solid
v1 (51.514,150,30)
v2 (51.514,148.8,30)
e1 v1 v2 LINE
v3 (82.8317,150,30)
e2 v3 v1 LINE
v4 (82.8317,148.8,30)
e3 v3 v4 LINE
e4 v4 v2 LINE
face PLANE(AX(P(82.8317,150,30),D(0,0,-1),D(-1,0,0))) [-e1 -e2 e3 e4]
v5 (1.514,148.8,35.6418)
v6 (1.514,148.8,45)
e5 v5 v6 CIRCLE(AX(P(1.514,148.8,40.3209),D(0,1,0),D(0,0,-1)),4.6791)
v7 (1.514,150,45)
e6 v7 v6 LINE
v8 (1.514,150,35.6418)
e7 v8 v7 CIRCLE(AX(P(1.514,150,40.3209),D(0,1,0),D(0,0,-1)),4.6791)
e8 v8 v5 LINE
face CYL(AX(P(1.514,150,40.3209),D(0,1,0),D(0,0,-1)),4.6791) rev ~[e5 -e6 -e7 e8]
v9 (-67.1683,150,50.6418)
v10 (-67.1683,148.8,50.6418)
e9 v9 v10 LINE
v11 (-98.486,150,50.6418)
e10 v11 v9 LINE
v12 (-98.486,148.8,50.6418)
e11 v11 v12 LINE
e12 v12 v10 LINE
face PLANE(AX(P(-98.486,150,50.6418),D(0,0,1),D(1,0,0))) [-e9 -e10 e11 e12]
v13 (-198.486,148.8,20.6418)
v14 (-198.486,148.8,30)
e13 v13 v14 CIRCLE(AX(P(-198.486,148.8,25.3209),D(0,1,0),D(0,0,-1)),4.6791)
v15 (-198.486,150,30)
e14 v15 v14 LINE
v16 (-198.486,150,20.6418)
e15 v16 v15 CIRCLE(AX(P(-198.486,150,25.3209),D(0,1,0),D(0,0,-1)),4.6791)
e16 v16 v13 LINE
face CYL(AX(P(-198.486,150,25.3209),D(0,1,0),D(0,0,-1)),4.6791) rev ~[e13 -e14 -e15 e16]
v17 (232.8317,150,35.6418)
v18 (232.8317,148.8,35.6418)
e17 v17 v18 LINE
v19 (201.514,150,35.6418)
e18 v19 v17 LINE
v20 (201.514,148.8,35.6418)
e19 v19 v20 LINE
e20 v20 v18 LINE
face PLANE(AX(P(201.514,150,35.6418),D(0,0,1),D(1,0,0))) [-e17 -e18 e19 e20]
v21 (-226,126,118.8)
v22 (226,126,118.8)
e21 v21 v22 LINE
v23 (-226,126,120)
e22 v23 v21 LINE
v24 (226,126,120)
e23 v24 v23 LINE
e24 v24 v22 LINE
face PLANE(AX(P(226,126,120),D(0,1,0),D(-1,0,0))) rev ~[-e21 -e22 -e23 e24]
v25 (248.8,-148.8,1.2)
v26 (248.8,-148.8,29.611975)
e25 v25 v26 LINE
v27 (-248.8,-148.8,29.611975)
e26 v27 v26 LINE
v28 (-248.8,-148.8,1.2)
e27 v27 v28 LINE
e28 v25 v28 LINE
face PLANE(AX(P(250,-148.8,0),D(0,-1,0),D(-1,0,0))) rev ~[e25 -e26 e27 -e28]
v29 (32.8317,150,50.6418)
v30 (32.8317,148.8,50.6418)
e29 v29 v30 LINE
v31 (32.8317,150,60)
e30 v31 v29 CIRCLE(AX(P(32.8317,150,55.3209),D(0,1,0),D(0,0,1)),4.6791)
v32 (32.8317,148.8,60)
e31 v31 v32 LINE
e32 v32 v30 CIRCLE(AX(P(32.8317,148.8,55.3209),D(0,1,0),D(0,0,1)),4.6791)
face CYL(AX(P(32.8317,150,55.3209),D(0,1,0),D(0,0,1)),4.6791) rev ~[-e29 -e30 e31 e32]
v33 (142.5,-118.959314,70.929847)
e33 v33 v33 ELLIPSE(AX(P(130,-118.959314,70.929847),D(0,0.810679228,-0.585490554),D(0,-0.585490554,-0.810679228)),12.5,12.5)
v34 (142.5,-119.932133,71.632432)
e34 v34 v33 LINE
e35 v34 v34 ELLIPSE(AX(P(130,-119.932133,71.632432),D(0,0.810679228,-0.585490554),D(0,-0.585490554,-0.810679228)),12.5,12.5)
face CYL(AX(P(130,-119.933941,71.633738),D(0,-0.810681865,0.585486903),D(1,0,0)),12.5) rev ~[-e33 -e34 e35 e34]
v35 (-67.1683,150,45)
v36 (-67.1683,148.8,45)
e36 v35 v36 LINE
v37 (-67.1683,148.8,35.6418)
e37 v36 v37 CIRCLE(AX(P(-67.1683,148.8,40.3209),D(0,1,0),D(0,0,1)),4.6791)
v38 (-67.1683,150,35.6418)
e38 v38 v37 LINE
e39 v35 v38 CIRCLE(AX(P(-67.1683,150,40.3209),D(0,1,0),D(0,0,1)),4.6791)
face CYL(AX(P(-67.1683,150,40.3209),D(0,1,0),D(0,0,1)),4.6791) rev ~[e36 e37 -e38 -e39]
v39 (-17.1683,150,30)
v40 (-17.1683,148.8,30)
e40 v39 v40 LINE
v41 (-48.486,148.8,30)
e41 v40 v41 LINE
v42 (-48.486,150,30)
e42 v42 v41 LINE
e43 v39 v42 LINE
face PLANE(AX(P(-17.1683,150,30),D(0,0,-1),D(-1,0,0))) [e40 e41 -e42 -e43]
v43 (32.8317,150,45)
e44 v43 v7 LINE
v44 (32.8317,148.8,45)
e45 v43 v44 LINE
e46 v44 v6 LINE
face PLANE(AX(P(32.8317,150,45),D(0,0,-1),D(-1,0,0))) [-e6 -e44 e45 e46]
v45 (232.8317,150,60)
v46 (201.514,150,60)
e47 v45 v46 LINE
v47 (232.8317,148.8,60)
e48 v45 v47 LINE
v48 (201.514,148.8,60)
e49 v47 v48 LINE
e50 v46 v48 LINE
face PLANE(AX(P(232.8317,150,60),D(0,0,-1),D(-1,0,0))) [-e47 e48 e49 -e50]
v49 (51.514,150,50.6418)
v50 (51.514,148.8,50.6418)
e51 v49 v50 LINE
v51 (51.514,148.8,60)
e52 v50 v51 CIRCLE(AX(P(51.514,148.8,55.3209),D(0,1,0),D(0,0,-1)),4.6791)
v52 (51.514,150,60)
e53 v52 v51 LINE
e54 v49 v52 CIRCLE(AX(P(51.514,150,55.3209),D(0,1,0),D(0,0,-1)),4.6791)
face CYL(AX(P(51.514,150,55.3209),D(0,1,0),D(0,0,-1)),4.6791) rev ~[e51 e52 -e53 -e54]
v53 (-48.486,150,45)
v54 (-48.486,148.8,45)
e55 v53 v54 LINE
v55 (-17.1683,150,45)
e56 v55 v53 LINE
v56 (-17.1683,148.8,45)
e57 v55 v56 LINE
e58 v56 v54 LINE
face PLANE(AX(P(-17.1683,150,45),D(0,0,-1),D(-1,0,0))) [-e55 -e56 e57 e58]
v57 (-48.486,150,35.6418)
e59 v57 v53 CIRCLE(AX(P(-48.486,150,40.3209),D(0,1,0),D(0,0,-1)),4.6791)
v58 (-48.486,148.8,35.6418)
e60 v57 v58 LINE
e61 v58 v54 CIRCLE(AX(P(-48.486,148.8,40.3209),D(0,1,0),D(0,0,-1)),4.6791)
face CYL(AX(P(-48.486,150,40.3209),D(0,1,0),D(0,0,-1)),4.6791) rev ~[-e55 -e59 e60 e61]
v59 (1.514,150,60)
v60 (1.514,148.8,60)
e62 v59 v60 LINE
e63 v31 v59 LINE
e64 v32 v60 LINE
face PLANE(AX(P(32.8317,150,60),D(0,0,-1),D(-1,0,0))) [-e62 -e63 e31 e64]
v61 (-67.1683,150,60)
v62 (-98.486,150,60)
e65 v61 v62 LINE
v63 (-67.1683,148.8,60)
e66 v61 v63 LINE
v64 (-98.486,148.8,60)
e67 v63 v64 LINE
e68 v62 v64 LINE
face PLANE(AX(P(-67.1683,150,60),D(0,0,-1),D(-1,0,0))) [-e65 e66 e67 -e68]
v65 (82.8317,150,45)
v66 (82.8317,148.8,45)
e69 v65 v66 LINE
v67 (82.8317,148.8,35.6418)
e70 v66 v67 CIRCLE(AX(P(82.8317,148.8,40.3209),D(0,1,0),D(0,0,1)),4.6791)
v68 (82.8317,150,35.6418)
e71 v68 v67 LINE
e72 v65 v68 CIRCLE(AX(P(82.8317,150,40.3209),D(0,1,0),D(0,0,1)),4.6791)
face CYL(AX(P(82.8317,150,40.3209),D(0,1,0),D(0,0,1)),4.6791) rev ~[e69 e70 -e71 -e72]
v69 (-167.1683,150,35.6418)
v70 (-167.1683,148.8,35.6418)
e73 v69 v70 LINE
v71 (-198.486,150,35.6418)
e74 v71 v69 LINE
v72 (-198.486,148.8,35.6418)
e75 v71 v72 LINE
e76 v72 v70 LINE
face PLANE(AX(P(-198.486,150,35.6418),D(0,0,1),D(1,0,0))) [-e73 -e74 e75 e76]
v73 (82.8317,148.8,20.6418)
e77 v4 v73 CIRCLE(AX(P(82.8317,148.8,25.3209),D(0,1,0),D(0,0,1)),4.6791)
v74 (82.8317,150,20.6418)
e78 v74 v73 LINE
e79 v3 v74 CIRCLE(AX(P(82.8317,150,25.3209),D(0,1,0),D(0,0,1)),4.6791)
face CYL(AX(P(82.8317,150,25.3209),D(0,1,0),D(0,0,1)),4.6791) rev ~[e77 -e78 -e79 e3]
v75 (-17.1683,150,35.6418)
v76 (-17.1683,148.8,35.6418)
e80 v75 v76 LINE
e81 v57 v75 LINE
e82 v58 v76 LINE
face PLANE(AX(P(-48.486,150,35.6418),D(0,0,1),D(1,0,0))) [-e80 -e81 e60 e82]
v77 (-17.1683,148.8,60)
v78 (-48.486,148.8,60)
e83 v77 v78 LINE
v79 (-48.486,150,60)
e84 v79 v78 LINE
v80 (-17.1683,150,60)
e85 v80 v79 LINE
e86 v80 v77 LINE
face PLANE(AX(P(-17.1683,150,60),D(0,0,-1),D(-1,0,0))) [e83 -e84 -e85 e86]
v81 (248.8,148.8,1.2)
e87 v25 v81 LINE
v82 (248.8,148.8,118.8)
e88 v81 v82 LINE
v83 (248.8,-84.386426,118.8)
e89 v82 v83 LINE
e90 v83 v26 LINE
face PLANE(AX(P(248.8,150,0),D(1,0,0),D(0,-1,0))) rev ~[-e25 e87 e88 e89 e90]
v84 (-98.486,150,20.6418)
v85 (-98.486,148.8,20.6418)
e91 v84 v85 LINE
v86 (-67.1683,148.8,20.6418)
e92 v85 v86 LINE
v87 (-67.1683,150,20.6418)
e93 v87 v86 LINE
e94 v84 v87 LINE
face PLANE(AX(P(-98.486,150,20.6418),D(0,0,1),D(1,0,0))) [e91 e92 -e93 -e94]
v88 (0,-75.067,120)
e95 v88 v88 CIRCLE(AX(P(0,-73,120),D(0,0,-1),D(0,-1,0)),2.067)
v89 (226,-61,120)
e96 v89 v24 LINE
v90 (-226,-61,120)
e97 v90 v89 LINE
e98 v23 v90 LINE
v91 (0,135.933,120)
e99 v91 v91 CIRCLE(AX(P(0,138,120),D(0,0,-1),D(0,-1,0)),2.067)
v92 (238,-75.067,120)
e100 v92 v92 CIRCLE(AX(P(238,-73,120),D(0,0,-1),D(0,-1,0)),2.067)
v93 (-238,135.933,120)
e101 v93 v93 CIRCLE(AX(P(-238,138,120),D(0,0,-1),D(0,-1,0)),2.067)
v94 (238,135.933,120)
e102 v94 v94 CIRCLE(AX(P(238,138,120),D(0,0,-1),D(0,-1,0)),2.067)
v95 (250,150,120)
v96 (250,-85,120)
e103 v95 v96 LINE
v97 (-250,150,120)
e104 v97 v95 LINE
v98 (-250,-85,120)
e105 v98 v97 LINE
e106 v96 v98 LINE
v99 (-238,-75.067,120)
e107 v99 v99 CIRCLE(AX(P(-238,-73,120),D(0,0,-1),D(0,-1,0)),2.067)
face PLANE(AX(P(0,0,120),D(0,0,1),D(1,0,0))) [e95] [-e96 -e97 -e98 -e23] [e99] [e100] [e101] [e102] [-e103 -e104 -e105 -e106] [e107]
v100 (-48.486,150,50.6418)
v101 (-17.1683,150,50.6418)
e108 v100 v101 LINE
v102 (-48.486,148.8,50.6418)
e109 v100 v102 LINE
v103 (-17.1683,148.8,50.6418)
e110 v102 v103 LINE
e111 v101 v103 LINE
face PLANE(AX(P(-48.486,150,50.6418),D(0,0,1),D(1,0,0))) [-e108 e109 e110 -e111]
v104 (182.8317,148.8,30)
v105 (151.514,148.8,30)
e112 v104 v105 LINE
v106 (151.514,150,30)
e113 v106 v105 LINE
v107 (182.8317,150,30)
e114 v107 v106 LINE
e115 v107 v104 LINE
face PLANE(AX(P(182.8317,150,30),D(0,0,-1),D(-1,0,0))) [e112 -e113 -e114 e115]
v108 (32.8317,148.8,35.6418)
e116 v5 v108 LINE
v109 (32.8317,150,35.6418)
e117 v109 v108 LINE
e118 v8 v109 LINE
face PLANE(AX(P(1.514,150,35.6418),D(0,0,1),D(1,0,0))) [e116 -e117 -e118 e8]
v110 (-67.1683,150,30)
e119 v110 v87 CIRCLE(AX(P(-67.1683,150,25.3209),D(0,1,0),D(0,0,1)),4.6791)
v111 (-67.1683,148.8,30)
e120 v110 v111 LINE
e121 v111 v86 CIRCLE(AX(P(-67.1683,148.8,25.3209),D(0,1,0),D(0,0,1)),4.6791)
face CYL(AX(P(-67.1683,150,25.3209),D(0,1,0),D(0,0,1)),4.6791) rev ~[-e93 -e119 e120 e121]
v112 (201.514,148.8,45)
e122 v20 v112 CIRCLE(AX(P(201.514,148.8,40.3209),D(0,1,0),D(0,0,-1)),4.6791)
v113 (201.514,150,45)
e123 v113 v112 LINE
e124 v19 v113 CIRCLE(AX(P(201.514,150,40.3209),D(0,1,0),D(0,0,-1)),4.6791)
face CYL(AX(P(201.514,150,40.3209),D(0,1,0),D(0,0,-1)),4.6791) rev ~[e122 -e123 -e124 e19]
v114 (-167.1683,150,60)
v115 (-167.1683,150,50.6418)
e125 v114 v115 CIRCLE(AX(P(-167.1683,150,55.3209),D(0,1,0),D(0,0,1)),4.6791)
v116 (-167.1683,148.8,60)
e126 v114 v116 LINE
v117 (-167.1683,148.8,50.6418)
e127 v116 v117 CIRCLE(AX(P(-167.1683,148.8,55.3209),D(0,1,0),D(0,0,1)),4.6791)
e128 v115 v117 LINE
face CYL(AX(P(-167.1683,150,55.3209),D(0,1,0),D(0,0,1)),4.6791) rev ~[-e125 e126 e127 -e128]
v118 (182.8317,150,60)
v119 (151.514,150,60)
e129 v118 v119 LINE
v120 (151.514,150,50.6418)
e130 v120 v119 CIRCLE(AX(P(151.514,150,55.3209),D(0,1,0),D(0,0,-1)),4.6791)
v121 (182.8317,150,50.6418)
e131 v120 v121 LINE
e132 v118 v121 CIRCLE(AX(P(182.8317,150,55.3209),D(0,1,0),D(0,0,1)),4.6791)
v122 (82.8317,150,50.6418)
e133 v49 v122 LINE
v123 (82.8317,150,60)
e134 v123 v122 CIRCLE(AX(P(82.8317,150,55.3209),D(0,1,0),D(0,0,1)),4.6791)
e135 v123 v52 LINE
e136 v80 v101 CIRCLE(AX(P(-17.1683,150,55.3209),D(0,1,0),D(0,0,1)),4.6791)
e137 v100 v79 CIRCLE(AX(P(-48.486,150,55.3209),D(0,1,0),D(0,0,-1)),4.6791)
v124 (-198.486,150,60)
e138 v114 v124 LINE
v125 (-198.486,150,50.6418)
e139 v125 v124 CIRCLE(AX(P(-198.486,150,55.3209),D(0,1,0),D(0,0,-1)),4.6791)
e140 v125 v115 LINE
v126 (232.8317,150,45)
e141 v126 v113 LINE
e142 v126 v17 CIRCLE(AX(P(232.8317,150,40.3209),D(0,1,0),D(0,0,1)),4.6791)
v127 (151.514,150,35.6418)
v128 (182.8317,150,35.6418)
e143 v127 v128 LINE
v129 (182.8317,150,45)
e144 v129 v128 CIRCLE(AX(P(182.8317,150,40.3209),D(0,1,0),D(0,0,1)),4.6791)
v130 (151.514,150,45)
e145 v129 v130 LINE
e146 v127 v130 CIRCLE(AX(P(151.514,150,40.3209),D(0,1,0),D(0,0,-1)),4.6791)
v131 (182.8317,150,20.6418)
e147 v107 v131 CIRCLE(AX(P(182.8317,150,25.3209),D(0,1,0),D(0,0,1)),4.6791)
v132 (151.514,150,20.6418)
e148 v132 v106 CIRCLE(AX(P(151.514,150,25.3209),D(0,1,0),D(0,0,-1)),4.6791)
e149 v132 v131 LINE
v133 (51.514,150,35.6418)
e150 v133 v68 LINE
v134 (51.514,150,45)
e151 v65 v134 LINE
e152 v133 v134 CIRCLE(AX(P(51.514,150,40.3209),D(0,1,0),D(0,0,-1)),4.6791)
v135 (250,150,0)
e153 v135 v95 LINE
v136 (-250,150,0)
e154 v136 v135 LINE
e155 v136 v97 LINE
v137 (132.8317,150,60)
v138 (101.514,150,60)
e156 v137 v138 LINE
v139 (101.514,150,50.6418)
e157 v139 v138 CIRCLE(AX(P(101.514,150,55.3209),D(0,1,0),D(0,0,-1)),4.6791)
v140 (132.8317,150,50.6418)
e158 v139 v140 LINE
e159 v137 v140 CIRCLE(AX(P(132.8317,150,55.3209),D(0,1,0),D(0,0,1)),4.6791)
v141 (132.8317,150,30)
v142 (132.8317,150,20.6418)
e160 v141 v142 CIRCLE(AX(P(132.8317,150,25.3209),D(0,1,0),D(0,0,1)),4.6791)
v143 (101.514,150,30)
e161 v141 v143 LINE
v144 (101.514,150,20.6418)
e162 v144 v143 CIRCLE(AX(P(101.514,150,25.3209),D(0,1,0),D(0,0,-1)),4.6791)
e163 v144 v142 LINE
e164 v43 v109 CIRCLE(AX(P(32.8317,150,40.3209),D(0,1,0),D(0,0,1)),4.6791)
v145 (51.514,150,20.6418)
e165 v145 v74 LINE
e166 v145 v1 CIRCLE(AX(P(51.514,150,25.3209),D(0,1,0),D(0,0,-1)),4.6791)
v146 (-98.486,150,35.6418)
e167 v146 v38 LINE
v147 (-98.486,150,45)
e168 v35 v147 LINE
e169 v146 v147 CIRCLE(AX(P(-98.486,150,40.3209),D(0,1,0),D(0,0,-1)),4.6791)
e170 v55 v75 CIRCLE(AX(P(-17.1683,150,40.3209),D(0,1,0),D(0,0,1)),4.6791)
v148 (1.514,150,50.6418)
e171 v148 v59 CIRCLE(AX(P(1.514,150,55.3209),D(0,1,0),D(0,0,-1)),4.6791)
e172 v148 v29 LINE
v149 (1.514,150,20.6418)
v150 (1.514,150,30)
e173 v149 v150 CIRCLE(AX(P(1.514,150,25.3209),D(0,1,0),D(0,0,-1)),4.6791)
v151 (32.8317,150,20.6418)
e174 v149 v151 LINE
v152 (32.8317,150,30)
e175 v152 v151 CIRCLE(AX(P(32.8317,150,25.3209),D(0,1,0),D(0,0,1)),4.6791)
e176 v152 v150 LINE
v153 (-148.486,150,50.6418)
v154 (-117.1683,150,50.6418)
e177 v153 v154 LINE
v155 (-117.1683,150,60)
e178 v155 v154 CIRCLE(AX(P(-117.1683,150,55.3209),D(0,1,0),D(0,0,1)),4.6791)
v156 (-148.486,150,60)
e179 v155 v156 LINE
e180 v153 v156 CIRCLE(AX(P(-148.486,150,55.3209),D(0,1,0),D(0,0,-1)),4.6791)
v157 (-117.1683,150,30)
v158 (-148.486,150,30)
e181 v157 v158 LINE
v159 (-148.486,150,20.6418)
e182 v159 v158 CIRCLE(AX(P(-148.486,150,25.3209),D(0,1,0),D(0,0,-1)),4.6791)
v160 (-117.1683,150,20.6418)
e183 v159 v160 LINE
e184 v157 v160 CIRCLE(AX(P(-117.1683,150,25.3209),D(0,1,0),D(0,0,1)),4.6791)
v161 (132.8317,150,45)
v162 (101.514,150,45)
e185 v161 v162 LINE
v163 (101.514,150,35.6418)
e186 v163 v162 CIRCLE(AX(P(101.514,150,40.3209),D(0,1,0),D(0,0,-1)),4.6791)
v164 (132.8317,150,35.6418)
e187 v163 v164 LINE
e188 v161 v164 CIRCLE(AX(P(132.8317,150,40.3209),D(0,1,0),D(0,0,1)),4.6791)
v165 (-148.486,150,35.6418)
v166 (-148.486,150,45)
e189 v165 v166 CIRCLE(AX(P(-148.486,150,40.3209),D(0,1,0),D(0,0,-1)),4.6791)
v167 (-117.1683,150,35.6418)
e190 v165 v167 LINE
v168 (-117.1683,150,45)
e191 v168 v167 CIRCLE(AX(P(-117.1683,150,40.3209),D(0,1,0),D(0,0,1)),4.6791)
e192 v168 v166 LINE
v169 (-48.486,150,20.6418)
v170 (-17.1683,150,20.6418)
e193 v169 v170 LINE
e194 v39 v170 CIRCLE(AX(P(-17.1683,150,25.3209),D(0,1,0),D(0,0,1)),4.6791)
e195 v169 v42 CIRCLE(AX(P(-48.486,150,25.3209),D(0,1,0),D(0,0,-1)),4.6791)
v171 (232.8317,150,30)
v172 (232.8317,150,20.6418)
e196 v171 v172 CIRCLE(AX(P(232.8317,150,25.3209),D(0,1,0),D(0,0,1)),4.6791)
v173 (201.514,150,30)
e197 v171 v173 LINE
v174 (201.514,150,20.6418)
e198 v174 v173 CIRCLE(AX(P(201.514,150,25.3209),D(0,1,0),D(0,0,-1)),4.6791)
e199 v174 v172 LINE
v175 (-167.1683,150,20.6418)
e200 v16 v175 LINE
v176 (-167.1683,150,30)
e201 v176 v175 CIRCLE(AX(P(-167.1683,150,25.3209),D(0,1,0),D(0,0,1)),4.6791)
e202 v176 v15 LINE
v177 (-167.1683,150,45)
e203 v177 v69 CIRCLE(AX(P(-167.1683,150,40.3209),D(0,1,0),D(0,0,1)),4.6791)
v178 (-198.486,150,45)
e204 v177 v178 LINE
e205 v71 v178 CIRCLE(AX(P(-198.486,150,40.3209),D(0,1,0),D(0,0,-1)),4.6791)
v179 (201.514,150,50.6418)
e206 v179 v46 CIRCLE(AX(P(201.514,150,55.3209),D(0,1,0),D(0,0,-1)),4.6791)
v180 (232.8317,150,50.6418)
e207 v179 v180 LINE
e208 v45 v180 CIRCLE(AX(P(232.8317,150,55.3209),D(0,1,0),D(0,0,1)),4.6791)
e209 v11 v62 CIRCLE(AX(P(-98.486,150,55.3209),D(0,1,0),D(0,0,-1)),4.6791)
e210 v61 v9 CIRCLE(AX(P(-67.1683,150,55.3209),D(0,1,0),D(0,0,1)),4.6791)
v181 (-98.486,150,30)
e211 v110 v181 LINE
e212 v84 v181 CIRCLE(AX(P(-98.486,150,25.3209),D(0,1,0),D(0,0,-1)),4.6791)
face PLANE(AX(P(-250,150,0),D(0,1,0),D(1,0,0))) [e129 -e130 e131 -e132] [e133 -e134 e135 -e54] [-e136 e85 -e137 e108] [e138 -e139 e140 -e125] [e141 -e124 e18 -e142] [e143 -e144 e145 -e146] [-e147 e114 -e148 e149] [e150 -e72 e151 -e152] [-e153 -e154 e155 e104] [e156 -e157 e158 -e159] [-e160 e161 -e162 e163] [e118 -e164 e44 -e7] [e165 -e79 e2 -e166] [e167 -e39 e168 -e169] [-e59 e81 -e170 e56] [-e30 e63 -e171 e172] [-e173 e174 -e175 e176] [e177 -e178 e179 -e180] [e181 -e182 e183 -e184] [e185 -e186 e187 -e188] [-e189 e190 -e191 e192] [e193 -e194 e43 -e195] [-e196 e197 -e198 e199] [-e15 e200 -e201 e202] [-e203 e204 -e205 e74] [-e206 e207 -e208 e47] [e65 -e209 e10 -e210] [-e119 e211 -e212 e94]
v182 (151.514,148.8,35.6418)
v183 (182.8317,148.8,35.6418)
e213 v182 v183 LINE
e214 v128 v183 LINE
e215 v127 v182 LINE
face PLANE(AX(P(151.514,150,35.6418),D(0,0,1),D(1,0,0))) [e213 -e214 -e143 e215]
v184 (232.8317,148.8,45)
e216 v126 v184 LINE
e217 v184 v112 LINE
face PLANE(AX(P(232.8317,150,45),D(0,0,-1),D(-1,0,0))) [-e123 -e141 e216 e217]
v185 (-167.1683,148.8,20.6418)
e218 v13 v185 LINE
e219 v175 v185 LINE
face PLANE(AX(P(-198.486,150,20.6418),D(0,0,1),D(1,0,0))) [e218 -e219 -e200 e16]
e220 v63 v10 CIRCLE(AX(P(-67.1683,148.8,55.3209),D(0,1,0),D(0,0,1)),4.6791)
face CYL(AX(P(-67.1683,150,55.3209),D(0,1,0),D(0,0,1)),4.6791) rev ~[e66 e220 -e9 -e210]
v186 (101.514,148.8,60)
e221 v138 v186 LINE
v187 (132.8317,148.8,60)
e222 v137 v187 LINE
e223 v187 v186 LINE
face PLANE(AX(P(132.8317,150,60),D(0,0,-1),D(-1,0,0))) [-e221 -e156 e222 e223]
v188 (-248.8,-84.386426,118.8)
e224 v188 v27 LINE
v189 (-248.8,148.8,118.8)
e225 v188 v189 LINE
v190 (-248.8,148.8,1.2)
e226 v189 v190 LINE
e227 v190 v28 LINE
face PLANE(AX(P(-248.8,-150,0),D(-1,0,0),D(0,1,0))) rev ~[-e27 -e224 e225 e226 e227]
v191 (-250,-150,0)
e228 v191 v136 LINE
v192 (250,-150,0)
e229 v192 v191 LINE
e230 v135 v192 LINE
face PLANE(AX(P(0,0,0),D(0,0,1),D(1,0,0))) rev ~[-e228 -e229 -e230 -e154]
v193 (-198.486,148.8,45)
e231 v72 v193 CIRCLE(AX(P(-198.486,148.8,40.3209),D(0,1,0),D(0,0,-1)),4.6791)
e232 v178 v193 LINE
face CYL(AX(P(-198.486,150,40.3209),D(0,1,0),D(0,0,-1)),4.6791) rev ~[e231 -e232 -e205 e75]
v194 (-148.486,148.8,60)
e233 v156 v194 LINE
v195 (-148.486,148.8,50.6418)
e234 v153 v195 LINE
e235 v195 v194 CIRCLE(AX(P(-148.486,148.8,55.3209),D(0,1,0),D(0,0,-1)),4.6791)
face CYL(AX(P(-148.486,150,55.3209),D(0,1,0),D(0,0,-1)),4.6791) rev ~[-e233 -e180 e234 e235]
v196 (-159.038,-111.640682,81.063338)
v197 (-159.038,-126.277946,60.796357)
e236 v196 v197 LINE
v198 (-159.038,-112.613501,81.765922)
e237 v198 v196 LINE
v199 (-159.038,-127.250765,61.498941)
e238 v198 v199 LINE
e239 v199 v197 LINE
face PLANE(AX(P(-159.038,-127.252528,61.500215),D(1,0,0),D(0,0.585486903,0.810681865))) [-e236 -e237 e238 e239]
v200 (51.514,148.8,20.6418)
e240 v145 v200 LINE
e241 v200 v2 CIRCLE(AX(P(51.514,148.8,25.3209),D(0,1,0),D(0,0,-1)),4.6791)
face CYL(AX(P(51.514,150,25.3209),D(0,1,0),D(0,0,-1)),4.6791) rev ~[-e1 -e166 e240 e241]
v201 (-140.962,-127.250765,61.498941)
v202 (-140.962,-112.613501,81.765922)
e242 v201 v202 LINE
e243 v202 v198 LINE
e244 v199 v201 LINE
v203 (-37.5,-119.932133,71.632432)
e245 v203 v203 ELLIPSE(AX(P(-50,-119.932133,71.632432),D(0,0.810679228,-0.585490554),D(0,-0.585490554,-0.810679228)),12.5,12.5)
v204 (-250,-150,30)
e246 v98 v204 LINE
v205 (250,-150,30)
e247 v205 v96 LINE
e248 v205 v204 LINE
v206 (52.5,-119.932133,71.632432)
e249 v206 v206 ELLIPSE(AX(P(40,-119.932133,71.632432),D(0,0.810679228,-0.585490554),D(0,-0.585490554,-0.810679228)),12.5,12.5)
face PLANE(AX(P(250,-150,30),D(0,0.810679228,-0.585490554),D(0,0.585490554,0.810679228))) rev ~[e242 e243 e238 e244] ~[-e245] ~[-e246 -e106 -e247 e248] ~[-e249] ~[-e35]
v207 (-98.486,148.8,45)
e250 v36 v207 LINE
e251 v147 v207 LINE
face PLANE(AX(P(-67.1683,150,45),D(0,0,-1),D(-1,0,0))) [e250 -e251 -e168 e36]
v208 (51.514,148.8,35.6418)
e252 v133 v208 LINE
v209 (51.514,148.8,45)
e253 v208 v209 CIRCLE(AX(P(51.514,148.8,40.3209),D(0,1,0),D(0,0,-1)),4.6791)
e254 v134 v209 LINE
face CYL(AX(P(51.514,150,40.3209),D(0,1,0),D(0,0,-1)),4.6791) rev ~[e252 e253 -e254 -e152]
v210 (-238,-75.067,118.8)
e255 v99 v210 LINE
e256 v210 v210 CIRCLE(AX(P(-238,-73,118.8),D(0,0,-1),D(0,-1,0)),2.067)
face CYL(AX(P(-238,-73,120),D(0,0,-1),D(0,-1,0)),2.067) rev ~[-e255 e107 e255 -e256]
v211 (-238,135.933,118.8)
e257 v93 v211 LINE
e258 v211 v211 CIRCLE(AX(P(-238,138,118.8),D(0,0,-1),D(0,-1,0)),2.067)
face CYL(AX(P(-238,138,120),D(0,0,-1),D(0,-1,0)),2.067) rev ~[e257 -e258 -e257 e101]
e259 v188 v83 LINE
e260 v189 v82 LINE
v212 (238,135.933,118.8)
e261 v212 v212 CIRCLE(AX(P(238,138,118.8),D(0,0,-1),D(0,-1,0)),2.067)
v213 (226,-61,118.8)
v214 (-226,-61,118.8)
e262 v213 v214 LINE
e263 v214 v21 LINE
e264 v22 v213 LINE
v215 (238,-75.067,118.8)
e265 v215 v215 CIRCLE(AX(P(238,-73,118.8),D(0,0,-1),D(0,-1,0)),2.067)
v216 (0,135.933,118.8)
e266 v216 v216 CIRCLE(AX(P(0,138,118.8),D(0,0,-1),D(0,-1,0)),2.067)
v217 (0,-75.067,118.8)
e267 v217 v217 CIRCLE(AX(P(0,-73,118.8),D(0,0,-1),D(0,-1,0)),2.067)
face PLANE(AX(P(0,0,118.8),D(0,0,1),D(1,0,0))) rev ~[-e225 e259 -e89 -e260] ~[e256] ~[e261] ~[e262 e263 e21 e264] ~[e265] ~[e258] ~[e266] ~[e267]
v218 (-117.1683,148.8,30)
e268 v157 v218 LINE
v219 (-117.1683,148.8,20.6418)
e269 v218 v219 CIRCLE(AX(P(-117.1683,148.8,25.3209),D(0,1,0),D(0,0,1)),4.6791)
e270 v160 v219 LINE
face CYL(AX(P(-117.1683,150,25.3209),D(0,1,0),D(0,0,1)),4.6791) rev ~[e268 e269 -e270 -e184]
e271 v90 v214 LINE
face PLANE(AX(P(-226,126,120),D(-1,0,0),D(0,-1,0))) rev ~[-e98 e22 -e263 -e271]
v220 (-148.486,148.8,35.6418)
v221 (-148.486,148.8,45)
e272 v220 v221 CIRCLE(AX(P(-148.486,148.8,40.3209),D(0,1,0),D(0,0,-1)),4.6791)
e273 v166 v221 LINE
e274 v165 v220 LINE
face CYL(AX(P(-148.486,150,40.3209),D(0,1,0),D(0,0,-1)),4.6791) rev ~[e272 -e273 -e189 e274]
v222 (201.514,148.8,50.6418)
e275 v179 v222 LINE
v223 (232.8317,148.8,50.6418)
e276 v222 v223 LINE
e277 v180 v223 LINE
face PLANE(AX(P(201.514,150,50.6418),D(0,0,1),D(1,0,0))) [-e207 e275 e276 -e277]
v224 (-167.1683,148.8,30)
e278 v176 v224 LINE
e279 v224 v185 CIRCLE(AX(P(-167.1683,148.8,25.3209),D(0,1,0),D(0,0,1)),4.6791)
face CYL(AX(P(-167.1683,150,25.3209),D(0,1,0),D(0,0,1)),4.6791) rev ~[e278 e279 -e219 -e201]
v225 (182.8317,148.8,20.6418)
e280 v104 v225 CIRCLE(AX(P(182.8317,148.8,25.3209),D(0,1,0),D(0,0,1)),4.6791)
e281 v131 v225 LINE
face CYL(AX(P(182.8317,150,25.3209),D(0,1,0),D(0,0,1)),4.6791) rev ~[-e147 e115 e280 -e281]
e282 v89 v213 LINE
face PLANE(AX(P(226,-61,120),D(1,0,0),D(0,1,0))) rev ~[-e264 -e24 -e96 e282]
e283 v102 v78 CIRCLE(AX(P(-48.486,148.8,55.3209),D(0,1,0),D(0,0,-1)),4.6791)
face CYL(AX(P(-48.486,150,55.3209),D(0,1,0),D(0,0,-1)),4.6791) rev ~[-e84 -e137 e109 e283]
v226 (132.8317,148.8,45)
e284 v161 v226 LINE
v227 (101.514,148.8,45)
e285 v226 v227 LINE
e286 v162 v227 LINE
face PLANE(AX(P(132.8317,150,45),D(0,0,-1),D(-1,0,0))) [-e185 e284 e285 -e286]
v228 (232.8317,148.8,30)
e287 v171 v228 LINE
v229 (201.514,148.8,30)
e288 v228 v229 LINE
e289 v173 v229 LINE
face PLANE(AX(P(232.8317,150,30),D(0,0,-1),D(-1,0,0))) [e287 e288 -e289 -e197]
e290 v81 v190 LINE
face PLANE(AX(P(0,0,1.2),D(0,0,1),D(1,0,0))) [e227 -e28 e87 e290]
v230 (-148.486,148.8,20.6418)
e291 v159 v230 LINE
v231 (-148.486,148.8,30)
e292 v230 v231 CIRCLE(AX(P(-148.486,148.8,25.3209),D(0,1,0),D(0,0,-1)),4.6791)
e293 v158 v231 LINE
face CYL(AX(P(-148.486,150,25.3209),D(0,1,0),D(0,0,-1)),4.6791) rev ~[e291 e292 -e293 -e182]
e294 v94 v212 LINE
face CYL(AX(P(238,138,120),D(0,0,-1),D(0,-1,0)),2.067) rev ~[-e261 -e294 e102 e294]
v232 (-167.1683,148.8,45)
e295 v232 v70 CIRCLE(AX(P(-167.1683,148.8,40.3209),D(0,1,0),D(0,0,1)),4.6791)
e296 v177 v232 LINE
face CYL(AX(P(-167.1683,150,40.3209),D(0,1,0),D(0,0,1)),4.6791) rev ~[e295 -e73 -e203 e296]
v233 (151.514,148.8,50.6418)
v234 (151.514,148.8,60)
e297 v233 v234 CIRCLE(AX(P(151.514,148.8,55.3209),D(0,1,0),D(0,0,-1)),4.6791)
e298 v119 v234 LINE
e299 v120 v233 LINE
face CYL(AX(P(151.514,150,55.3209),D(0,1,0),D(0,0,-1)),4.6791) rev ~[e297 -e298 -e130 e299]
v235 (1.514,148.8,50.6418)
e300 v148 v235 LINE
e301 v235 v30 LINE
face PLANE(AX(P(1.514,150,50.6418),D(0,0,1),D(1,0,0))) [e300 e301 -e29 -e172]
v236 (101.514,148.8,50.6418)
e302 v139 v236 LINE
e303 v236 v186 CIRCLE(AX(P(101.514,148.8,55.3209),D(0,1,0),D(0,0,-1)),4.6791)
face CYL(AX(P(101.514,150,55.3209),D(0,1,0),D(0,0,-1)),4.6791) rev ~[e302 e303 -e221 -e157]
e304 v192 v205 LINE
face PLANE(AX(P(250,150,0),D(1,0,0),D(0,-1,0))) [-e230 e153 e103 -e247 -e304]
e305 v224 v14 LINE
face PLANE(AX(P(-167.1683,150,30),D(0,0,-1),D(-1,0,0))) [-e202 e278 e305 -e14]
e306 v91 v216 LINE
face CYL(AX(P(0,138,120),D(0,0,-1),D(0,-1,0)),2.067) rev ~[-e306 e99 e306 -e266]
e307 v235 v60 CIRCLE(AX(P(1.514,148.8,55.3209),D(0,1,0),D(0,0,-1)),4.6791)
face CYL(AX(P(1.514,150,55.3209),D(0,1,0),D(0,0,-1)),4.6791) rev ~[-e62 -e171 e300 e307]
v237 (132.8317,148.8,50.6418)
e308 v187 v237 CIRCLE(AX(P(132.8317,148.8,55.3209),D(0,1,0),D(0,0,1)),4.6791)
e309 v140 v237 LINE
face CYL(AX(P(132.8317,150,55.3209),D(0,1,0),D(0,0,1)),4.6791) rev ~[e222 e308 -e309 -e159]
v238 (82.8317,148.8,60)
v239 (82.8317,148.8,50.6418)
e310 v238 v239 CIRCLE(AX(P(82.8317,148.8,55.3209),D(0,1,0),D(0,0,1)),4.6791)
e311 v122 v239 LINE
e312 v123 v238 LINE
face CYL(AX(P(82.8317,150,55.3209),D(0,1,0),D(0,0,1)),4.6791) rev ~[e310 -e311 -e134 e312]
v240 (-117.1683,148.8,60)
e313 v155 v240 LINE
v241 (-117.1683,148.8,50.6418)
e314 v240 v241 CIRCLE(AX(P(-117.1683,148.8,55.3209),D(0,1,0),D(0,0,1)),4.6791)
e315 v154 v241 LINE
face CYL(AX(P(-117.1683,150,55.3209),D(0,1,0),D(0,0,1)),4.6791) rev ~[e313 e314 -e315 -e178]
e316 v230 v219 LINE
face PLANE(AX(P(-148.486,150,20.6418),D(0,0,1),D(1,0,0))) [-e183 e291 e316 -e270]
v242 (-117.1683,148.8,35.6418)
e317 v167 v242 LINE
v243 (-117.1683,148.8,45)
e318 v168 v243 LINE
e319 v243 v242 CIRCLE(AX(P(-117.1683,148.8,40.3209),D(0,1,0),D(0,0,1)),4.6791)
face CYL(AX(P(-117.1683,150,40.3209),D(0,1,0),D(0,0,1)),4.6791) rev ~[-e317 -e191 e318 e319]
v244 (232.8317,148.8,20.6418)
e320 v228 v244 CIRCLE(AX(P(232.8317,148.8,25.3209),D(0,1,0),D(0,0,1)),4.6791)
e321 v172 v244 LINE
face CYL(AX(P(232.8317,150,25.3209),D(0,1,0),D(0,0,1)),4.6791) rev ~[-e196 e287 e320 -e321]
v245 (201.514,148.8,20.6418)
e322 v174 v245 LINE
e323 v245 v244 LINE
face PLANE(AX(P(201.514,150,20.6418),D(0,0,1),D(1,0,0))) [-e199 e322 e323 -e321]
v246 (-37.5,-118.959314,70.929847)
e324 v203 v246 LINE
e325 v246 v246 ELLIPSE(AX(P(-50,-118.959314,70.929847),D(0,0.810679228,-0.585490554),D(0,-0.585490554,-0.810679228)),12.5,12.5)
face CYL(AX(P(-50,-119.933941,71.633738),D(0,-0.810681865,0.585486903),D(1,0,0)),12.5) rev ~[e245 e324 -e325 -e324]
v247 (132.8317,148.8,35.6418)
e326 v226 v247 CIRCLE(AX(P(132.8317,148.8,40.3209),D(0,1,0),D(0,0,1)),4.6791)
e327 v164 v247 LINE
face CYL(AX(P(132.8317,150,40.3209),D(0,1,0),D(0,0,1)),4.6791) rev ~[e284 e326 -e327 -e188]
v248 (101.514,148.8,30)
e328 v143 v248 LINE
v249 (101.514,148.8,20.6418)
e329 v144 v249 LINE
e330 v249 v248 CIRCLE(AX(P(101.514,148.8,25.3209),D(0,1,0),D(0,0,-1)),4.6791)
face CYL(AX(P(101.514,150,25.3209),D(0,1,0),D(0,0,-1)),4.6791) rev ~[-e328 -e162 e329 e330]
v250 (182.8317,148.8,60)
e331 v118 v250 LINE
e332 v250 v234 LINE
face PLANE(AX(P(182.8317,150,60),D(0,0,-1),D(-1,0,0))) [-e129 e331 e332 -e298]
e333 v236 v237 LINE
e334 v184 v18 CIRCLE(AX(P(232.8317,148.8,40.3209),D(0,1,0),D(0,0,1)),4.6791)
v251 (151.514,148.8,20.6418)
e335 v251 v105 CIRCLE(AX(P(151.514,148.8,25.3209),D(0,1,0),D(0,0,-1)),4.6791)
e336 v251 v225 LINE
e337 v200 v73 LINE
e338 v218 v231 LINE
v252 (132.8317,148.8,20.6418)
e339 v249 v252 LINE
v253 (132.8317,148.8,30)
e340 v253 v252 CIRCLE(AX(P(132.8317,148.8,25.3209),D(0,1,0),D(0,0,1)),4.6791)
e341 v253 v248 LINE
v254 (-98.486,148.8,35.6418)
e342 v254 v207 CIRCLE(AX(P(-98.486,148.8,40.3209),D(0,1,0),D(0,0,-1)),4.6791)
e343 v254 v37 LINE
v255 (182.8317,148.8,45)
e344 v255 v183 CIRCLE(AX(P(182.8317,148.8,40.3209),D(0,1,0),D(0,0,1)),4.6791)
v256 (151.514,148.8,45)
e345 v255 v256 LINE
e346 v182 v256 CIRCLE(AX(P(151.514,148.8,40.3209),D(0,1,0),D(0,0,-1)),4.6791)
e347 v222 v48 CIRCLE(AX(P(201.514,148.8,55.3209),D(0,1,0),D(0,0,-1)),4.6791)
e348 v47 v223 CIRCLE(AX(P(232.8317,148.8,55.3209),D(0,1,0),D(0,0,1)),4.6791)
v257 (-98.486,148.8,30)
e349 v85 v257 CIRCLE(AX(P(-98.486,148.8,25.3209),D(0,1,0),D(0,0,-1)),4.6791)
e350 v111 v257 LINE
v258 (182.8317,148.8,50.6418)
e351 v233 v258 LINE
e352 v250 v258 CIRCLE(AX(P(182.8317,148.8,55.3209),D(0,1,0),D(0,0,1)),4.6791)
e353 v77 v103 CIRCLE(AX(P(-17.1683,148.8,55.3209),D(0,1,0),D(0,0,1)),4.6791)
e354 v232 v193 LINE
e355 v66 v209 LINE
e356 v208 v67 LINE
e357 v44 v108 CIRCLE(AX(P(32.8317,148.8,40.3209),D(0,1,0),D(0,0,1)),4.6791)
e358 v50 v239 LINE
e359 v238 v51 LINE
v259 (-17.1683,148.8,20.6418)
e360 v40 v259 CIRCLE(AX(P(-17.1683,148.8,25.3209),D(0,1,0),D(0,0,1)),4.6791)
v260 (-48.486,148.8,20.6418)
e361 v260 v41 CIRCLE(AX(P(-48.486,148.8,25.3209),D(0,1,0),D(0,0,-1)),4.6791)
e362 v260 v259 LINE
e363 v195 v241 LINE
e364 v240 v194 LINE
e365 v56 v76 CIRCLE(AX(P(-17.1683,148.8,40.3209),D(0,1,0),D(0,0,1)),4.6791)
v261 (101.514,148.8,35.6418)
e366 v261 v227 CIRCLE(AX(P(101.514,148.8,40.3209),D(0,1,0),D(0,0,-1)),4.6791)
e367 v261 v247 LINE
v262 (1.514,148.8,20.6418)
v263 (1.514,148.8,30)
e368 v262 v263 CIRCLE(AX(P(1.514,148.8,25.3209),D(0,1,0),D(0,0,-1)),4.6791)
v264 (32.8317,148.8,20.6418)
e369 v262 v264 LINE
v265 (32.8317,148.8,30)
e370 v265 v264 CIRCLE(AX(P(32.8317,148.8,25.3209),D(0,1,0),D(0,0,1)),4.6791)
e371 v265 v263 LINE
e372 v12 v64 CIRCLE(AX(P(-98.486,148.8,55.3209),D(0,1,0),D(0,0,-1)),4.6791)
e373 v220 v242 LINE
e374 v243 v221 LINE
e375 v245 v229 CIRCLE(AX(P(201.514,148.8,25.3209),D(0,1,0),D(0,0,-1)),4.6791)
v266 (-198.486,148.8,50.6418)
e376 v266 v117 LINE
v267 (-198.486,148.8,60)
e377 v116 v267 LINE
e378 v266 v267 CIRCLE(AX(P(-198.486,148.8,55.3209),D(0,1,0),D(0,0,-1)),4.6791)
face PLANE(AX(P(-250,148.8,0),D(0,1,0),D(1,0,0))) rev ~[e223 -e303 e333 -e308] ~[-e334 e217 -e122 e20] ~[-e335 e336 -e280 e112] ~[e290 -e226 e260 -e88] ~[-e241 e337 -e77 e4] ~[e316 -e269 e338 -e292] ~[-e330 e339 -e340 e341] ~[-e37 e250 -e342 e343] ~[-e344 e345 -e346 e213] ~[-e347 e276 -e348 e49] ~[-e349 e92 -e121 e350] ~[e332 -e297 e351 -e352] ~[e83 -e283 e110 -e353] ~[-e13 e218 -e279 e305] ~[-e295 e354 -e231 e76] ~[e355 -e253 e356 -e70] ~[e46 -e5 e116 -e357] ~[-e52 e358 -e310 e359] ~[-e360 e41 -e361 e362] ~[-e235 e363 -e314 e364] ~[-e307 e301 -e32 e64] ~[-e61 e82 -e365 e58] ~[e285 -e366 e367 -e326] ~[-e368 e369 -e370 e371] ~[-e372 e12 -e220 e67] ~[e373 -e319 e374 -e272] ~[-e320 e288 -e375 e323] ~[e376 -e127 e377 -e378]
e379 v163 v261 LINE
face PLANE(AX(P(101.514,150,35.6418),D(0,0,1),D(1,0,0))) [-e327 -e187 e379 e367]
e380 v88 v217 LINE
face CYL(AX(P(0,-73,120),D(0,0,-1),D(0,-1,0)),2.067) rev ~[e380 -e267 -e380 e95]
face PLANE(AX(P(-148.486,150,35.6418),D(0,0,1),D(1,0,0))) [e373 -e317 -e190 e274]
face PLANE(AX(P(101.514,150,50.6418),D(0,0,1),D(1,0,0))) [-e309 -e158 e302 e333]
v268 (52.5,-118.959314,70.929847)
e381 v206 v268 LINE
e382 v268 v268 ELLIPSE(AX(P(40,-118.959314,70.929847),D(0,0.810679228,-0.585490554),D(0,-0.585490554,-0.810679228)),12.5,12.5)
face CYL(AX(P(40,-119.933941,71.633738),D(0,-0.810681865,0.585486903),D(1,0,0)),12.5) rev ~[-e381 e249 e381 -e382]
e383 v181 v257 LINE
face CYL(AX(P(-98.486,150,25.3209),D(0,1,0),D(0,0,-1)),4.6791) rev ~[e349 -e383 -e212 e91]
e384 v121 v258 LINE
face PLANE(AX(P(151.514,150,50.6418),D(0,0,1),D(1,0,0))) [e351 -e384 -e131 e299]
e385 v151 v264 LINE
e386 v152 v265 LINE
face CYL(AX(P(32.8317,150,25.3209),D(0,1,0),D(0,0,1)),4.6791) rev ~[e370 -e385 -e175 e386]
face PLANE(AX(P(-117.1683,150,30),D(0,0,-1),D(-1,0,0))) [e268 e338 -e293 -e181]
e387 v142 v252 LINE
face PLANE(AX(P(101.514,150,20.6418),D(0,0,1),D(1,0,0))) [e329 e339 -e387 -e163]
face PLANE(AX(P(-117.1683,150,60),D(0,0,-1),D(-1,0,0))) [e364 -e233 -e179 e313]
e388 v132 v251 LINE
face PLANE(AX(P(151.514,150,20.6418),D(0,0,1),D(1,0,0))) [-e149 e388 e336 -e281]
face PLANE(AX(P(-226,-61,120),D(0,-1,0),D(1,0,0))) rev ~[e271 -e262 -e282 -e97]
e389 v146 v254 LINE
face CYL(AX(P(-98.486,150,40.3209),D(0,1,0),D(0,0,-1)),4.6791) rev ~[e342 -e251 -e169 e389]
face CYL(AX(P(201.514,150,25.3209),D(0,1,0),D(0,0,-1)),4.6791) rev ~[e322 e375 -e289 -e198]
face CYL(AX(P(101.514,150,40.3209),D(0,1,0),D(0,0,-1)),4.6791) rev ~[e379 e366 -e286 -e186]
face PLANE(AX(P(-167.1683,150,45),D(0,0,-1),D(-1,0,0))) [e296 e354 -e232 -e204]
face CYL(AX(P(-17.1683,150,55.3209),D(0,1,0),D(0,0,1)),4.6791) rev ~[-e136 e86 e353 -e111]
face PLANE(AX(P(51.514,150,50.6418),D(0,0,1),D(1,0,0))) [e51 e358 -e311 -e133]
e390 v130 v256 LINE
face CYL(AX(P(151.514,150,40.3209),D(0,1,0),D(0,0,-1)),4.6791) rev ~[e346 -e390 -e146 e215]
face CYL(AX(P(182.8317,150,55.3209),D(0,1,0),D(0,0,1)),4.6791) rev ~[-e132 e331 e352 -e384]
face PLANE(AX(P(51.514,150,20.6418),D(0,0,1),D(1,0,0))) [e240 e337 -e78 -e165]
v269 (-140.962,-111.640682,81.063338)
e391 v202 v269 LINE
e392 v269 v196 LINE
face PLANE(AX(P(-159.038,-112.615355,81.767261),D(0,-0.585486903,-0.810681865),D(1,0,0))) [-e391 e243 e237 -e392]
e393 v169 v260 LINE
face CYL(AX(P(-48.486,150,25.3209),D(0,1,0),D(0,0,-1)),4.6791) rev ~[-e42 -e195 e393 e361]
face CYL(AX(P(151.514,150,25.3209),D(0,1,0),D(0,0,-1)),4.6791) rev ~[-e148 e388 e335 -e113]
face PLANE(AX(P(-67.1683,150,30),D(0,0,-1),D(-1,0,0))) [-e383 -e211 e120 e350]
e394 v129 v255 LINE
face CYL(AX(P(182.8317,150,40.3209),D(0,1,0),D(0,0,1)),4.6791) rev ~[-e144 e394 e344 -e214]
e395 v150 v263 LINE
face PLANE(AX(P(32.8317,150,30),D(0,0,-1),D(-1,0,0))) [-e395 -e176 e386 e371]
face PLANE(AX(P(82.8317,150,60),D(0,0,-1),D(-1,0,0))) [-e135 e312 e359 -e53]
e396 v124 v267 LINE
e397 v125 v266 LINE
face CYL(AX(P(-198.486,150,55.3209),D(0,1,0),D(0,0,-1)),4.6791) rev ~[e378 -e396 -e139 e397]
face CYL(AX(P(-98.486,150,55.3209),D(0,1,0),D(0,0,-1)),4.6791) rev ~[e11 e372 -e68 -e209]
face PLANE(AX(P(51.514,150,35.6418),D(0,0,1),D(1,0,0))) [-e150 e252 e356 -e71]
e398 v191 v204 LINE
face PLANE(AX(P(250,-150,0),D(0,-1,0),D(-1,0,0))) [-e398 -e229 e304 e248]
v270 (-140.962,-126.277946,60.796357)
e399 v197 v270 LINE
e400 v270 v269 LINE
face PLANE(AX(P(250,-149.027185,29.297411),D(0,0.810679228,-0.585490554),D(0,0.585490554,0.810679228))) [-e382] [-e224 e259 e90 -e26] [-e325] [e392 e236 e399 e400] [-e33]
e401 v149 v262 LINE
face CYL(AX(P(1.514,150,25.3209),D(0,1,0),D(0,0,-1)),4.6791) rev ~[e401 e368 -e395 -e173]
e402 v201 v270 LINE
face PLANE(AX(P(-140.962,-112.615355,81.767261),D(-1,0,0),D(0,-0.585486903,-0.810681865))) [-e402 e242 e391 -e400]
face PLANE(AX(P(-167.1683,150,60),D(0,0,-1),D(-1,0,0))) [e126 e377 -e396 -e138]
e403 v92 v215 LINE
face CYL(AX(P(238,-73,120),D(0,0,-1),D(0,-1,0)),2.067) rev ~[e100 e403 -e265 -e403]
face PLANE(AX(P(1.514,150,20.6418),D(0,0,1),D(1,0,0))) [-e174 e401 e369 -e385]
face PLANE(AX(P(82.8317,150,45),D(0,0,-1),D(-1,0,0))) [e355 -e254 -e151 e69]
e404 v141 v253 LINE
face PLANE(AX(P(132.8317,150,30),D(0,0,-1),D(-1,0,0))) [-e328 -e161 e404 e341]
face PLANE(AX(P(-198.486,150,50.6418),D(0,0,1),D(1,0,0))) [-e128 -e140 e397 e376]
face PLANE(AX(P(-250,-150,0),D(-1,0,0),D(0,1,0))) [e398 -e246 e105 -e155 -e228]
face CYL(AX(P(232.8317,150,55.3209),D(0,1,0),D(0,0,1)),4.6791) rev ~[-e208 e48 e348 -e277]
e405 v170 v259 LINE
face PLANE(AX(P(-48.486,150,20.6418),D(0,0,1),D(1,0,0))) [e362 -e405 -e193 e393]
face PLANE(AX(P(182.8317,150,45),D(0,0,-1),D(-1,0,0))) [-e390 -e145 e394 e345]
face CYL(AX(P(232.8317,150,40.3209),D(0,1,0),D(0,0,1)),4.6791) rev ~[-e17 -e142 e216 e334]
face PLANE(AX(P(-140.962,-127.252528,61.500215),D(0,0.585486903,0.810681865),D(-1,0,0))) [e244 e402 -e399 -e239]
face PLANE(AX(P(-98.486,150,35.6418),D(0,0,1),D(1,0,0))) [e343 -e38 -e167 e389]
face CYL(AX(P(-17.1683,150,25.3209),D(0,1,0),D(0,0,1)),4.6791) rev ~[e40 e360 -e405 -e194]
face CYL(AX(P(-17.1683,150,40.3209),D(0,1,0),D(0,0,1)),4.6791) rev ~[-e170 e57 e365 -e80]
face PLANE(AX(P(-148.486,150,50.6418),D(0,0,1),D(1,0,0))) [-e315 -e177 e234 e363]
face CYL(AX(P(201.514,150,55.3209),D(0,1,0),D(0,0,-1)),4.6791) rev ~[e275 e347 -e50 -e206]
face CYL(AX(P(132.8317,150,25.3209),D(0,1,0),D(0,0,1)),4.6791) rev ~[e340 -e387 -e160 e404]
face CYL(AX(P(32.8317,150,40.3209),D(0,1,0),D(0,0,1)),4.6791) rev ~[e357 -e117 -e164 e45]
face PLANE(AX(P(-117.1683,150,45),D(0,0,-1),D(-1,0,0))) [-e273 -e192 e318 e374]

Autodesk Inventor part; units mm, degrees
ref_plane "YZ Plane" through (0, 0, 0) normal (1, 0, 0) x (0, 1, 0)
ref_plane "XZ Plane" through (0, 0, 0) normal (0, 1, 0) x (-1, 0, 0)
ref_plane "XY Plane" through (0, 0, 0) normal (0, 0, 1) x (1, 0, 0)
sketch "스케치1" plane through (0, 0, 0) normal (0, 0, 1) x (1, 0, 0)
  line L0 (250, -150) -> (-250, -150)
  line L1 (-250, -150) -> (-250, 150)
  line L2 (-250, 150) -> (250, 150)
  line L3 (250, 150) -> (250, -150)
  line L4 (250, -150) -> (-250, 150) construction
  line L5 (-250, -150) -> (250, 150) construction
  point P0 (0, 0)
  dimension "d0" = 500
  dimension "d1" = 300
extrude "돌출1" add sketch "스케치1" along normal blind 120
sketch "스케치2" plane through (250, -150, 0) normal (1, 0, 0) x (0, 0, -1)
  line L0 (-120, 0) -> (-120, 300) projected
  line L1 (0, 0) -> (-120, 0) projected
  line L2 (-30, 0) -> (-120, 65)
  line L3 (-30, 0) -> (-30, -74.841)
  line L4 (-30, -74.841) -> (-182.9501, -91.3391)
  line L5 (-182.9501, -91.3391) -> (-221.4457, -10.4199)
  line L6 (-221.4457, -10.4199) -> (-120, 65)
  point P0 (0, 150)
  dimension "d4" = 65
  dimension "d5" = 30
extrude "돌출2" cut sketch "스케치2" against normal through all contours L0 L2 L1
sketch "스케치3" plane through (0, 0, 120) normal (0, 0, 1) x (1, 0, 0)
  line L0 (-250, -85) -> (250, -85) projected
  line L1 (250, -85) -> (250, 150) projected
  line L2 (250, 150) -> (-250, 150) projected
  line L3 (-250, 150) -> (-250, -85) projected
  line L4 (-226, -61) -> (226, -61)
  line L5 (226, -61) -> (226, 126)
  line L6 (226, 126) -> (-226, 126)
  line L7 (-226, 126) -> (-226, -61)
  point P0 (0, 0)
  dimension "d8" = 24
  dimension "d9" = 24
  dimension "d10" = 24
  dimension "d11" = 24
extrude "돌출3" cut sketch "스케치3" against normal blind 10 contours L7 L6 L5 L4
shell "쉘1" thickness 1.2 removed faces 5 at (-226, 63.6667, 116.6667) at (-75.3333, -61, 116.6667) at (226, 1.3333, 116.6667) at (75.3333, 126, 116.6667) at (75.3333, 1.3333, 110)
sketch "스케치4" plane through (0, 0, 120) normal (0, 0, 1) x (1, 0, 0)
  line L0 (-250, -85) -> (250, -85) projected
  line L1 (250, -85) -> (250, 150) projected
  line L2 (250, 150) -> (-250, 150) projected
  line L3 (-250, 150) -> (-250, -85) projected
  line L4 (-238, -73) -> (238, -73)
  line L5 (238, -73) -> (238, 138)
  line L6 (238, 138) -> (-238, 138)
  line L7 (-238, 138) -> (-238, -73)
  line L8 (-238, 32.5) -> (250, 32.5)
  line L9 (0, -73) -> (0, 138)
  point P0 (0, 0)
  dimension "d15" = 12
  dimension "d16" = 12
  dimension "d17" = 12
  dimension "d18" = 12
hole "구멍1" at (-238, -73, 120) at (-238, 138, 120) at (238, -73, 120) at (238, 138, 120) at (0, -73, 120) at (0, 138, 120) direction (0, 0, -1) diameter 4.134 depth 14.2 tip angle 118 thread size "M5x0.8" class "6H" standard "ISO Metric profile"
sketch "스케치5" plane through (-250, -150, 30) normal (0, -0.8107, 0.5855) x (1, 0, 0)
  line L0 (0, 0) -> (0, 111.018) projected
  circle A0 centre (200, 51.355) radius 12.5
  circle A1 centre (290, 51.355) radius 12.5
  circle A2 centre (380, 51.355) radius 12.5
  line L1 (109.038, 38.855) -> (90.962, 38.855)
  line L2 (90.962, 38.855) -> (90.962, 63.855)
  line L3 (90.962, 63.855) -> (109.038, 63.855)
  line L4 (109.038, 63.855) -> (109.038, 38.855)
  line L5 (109.038, 38.855) -> (90.962, 63.855) construction
  line L6 (90.962, 38.855) -> (109.038, 63.855) construction
  line L7 (455.4394, 12.1665) -> (493.5306, 12.1665) construction
  line L8 (493.5306, 12.1665) -> (493.5306, 2.974) construction
  line L9 (493.5306, 2.974) -> (455.4394, 2.974) construction
  line L10 (455.4394, 2.974) -> (455.4394, 12.1665) construction
  point P0 (250, 63.5032)
  point P1 (100, 51.355)
  dimension "d26" = 25
  dimension "d27" = 25
  dimension "d28" = 25
  dimension "d29" = 100
  dimension "d30" = 100
  dimension "d31" = 90
  dimension "d32" = 90
sketch "스케치6" plane through (250, -150, 0) normal (1, 0, 0) x (0, 0, -1)
  line L0 (-120, 65) -> (-30, 0) projected
  line L1 (0, 0) -> (-30, 0) projected
  line L2 (0, 300) -> (0, 0) projected
  line L3 (0, 300) -> (-120, 300) projected
  line L4 (-120, 65) -> (-120, 300) projected
  point P0 (0, 150)
sketch "스케치7" plane through (250, -150, 0) normal (1, 0, 0) x (0, 0, -1)
  line L0 (-120, 65) -> (-30, 0) projected
  line L1 (0, 0) -> (-30, 0) projected
  line L2 (0, 300) -> (0, 0) projected
  line L3 (0, 300) -> (-120, 300) projected
  line L4 (-120, 65) -> (-120, 300) projected
  point P0 (0, 150)
sketch "스케치8" plane through (-250, 150, 0) normal (0, 1, 0) x (1, 0, 0)
  line L0 (0, 0) -> (500, 0) projected
  line L1 (0, 0) -> (0, -120) projected
  line L2 (500, -120) -> (0, -120) projected
  line L3 (500, 0) -> (500, -120) projected
  point P0 (250, 0)
sketch "스케치9" plane through (-250, 150, 0) normal (0, 1, 0) x (1, 0, 0)
  line L0 (446.8349, -55.3209) -> (487.5108, -55.3209) construction
  line L1 (451.514, -50.6418) -> (482.8317, -50.6418)
  line L2 (482.8317, -60) -> (451.514, -60)
  arc A0 (451.514, -50.6418) -> (451.514, -60) centre (451.514, -55.3209) ccw
  arc A1 (482.8317, -60) -> (482.8317, -50.6418) centre (482.8317, -55.3209) ccw
  line L3 (515.6985, -42.8327) -> (515.6985, 0) construction
  line L4 (432.8317, -60) -> (401.514, -60)
  line L5 (401.514, -50.6418) -> (432.8317, -50.6418)
  arc A2 (401.514, -50.6418) -> (401.514, -60) centre (401.514, -55.3209) ccw
  arc A3 (432.8317, -60) -> (432.8317, -50.6418) centre (432.8317, -55.3209) ccw
  line L6 (382.8317, -60) -> (351.514, -60)
  line L7 (351.514, -50.6418) -> (382.8317, -50.6418)
  arc A4 (351.514, -50.6418) -> (351.514, -60) centre (351.514, -55.3209) ccw
  arc A5 (382.8317, -60) -> (382.8317, -50.6418) centre (382.8317, -55.3209) ccw
  line L8 (332.8317, -60) -> (301.514, -60)
  line L9 (301.514, -50.6418) -> (332.8317, -50.6418)
  arc A6 (301.514, -50.6418) -> (301.514, -60) centre (301.514, -55.3209) ccw
  arc A7 (332.8317, -60) -> (332.8317, -50.6418) centre (332.8317, -55.3209) ccw
  line L10 (282.8317, -60) -> (251.514, -60)
  line L11 (251.514, -50.6418) -> (282.8317, -50.6418)
  arc A8 (251.514, -50.6418) -> (251.514, -60) centre (251.514, -55.3209) ccw
  arc A9 (282.8317, -60) -> (282.8317, -50.6418) centre (282.8317, -55.3209) ccw
  line L12 (232.8317, -60) -> (201.514, -60)
  line L13 (201.514, -50.6418) -> (232.8317, -50.6418)
  arc A10 (201.514, -50.6418) -> (201.514, -60) centre (201.514, -55.3209) ccw
  arc A11 (232.8317, -60) -> (232.8317, -50.6418) centre (232.8317, -55.3209) ccw
  line L14 (182.8317, -60) -> (151.514, -60)
  line L15 (151.514, -50.6418) -> (182.8317, -50.6418)
  arc A12 (151.514, -50.6418) -> (151.514, -60) centre (151.514, -55.3209) ccw
  arc A13 (182.8317, -60) -> (182.8317, -50.6418) centre (182.8317, -55.3209) ccw
  line L16 (132.8317, -60) -> (101.514, -60)
  line L17 (101.514, -50.6418) -> (132.8317, -50.6418)
  arc A14 (101.514, -50.6418) -> (101.514, -60) centre (101.514, -55.3209) ccw
  arc A15 (132.8317, -60) -> (132.8317, -50.6418) centre (132.8317, -55.3209) ccw
  line L18 (82.8317, -60) -> (51.514, -60)
  line L19 (51.514, -50.6418) -> (82.8317, -50.6418)
  arc A16 (51.514, -50.6418) -> (51.514, -60) centre (51.514, -55.3209) ccw
  arc A17 (82.8317, -60) -> (82.8317, -50.6418) centre (82.8317, -55.3209) ccw
  line L20 (482.8317, -45) -> (451.514, -45)
  line L21 (451.514, -35.6418) -> (482.8317, -35.6418)
  arc A18 (451.514, -35.6418) -> (451.514, -45) centre (451.514, -40.3209) ccw
  arc A19 (482.8317, -45) -> (482.8317, -35.6418) centre (482.8317, -40.3209) ccw
  line L22 (432.8317, -45) -> (401.514, -45)
  line L23 (401.514, -35.6418) -> (432.8317, -35.6418)
  arc A20 (401.514, -35.6418) -> (401.514, -45) centre (401.514, -40.3209) ccw
  arc A21 (432.8317, -45) -> (432.8317, -35.6418) centre (432.8317, -40.3209) ccw
  line L24 (382.8317, -45) -> (351.514, -45)
  line L25 (351.514, -35.6418) -> (382.8317, -35.6418)
  arc A22 (351.514, -35.6418) -> (351.514, -45) centre (351.514, -40.3209) ccw
  arc A23 (382.8317, -45) -> (382.8317, -35.6418) centre (382.8317, -40.3209) ccw
  line L26 (332.8317, -45) -> (301.514, -45)
  line L27 (301.514, -35.6418) -> (332.8317, -35.6418)
  arc A24 (301.514, -35.6418) -> (301.514, -45) centre (301.514, -40.3209) ccw
  arc A25 (332.8317, -45) -> (332.8317, -35.6418) centre (332.8317, -40.3209) ccw
  line L28 (282.8317, -45) -> (251.514, -45)
  line L29 (251.514, -35.6418) -> (282.8317, -35.6418)
  arc A26 (251.514, -35.6418) -> (251.514, -45) centre (251.514, -40.3209) ccw
  arc A27 (282.8317, -45) -> (282.8317, -35.6418) centre (282.8317, -40.3209) ccw
  line L30 (232.8317, -45) -> (201.514, -45)
  line L31 (201.514, -35.6418) -> (232.8317, -35.6418)
  arc A28 (201.514, -35.6418) -> (201.514, -45) centre (201.514, -40.3209) ccw
  arc A29 (232.8317, -45) -> (232.8317, -35.6418) centre (232.8317, -40.3209) ccw
  line L32 (182.8317, -45) -> (151.514, -45)
  line L33 (151.514, -35.6418) -> (182.8317, -35.6418)
  arc A30 (151.514, -35.6418) -> (151.514, -45) centre (151.514, -40.3209) ccw
  arc A31 (182.8317, -45) -> (182.8317, -35.6418) centre (182.8317, -40.3209) ccw
  line L34 (132.8317, -45) -> (101.514, -45)
  line L35 (101.514, -35.6418) -> (132.8317, -35.6418)
  arc A32 (101.514, -35.6418) -> (101.514, -45) centre (101.514, -40.3209) ccw
  arc A33 (132.8317, -45) -> (132.8317, -35.6418) centre (132.8317, -40.3209) ccw
  line L36 (82.8317, -45) -> (51.514, -45)
  line L37 (51.514, -35.6418) -> (82.8317, -35.6418)
  arc A34 (51.514, -35.6418) -> (51.514, -45) centre (51.514, -40.3209) ccw
  arc A35 (82.8317, -45) -> (82.8317, -35.6418) centre (82.8317, -40.3209) ccw
  line L38 (482.8317, -30) -> (451.514, -30)
  line L39 (451.514, -20.6418) -> (482.8317, -20.6418)
  arc A36 (451.514, -20.6418) -> (451.514, -30) centre (451.514, -25.3209) ccw
  arc A37 (482.8317, -30) -> (482.8317, -20.6418) centre (482.8317, -25.3209) ccw
  line L40 (432.8317, -30) -> (401.514, -30)
  line L41 (401.514, -20.6418) -> (432.8317, -20.6418)
  arc A38 (401.514, -20.6418) -> (401.514, -30) centre (401.514, -25.3209) ccw
  arc A39 (432.8317, -30) -> (432.8317, -20.6418) centre (432.8317, -25.3209) ccw
  line L42 (382.8317, -30) -> (351.514, -30)
  line L43 (351.514, -20.6418) -> (382.8317, -20.6418)
  arc A40 (351.514, -20.6418) -> (351.514, -30) centre (351.514, -25.3209) ccw
  arc A41 (382.8317, -30) -> (382.8317, -20.6418) centre (382.8317, -25.3209) ccw
  line L44 (332.8317, -30) -> (301.514, -30)
  line L45 (301.514, -20.6418) -> (332.8317, -20.6418)
  arc A42 (301.514, -20.6418) -> (301.514, -30) centre (301.514, -25.3209) ccw
  arc A43 (332.8317, -30) -> (332.8317, -20.6418) centre (332.8317, -25.3209) ccw
  line L46 (282.8317, -30) -> (251.514, -30)
  line L47 (251.514, -20.6418) -> (282.8317, -20.6418)
  arc A44 (251.514, -20.6418) -> (251.514, -30) centre (251.514, -25.3209) ccw
  arc A45 (282.8317, -30) -> (282.8317, -20.6418) centre (282.8317, -25.3209) ccw
  line L48 (232.8317, -30) -> (201.514, -30)
  line L49 (201.514, -20.6418) -> (232.8317, -20.6418)
  arc A46 (201.514, -20.6418) -> (201.514, -30) centre (201.514, -25.3209) ccw
  arc A47 (232.8317, -30) -> (232.8317, -20.6418) centre (232.8317, -25.3209) ccw
  line L50 (182.8317, -30) -> (151.514, -30)
  line L51 (151.514, -20.6418) -> (182.8317, -20.6418)
  arc A48 (151.514, -20.6418) -> (151.514, -30) centre (151.514, -25.3209) ccw
  arc A49 (182.8317, -30) -> (182.8317, -20.6418) centre (182.8317, -25.3209) ccw
  line L52 (132.8317, -30) -> (101.514, -30)
  line L53 (101.514, -20.6418) -> (132.8317, -20.6418)
  arc A50 (101.514, -20.6418) -> (101.514, -30) centre (101.514, -25.3209) ccw
  arc A51 (132.8317, -30) -> (132.8317, -20.6418) centre (132.8317, -25.3209) ccw
  line L54 (82.8317, -30) -> (51.514, -30)
  line L55 (51.514, -20.6418) -> (82.8317, -20.6418)
  arc A52 (51.514, -20.6418) -> (51.514, -30) centre (51.514, -25.3209) ccw
  arc A53 (82.8317, -30) -> (82.8317, -20.6418) centre (82.8317, -25.3209) ccw
  point P0 (250, 0)
  point P1 (467.1729, -55.3209)
  dimension "d35" = 50
  dimension "d38" = 15
extrude "돌출4" cut sketch "스케치9" against normal blind 10
extrude "돌출5" cut sketch "스케치5" against normal blind 10
properties part number "240710_part2"
